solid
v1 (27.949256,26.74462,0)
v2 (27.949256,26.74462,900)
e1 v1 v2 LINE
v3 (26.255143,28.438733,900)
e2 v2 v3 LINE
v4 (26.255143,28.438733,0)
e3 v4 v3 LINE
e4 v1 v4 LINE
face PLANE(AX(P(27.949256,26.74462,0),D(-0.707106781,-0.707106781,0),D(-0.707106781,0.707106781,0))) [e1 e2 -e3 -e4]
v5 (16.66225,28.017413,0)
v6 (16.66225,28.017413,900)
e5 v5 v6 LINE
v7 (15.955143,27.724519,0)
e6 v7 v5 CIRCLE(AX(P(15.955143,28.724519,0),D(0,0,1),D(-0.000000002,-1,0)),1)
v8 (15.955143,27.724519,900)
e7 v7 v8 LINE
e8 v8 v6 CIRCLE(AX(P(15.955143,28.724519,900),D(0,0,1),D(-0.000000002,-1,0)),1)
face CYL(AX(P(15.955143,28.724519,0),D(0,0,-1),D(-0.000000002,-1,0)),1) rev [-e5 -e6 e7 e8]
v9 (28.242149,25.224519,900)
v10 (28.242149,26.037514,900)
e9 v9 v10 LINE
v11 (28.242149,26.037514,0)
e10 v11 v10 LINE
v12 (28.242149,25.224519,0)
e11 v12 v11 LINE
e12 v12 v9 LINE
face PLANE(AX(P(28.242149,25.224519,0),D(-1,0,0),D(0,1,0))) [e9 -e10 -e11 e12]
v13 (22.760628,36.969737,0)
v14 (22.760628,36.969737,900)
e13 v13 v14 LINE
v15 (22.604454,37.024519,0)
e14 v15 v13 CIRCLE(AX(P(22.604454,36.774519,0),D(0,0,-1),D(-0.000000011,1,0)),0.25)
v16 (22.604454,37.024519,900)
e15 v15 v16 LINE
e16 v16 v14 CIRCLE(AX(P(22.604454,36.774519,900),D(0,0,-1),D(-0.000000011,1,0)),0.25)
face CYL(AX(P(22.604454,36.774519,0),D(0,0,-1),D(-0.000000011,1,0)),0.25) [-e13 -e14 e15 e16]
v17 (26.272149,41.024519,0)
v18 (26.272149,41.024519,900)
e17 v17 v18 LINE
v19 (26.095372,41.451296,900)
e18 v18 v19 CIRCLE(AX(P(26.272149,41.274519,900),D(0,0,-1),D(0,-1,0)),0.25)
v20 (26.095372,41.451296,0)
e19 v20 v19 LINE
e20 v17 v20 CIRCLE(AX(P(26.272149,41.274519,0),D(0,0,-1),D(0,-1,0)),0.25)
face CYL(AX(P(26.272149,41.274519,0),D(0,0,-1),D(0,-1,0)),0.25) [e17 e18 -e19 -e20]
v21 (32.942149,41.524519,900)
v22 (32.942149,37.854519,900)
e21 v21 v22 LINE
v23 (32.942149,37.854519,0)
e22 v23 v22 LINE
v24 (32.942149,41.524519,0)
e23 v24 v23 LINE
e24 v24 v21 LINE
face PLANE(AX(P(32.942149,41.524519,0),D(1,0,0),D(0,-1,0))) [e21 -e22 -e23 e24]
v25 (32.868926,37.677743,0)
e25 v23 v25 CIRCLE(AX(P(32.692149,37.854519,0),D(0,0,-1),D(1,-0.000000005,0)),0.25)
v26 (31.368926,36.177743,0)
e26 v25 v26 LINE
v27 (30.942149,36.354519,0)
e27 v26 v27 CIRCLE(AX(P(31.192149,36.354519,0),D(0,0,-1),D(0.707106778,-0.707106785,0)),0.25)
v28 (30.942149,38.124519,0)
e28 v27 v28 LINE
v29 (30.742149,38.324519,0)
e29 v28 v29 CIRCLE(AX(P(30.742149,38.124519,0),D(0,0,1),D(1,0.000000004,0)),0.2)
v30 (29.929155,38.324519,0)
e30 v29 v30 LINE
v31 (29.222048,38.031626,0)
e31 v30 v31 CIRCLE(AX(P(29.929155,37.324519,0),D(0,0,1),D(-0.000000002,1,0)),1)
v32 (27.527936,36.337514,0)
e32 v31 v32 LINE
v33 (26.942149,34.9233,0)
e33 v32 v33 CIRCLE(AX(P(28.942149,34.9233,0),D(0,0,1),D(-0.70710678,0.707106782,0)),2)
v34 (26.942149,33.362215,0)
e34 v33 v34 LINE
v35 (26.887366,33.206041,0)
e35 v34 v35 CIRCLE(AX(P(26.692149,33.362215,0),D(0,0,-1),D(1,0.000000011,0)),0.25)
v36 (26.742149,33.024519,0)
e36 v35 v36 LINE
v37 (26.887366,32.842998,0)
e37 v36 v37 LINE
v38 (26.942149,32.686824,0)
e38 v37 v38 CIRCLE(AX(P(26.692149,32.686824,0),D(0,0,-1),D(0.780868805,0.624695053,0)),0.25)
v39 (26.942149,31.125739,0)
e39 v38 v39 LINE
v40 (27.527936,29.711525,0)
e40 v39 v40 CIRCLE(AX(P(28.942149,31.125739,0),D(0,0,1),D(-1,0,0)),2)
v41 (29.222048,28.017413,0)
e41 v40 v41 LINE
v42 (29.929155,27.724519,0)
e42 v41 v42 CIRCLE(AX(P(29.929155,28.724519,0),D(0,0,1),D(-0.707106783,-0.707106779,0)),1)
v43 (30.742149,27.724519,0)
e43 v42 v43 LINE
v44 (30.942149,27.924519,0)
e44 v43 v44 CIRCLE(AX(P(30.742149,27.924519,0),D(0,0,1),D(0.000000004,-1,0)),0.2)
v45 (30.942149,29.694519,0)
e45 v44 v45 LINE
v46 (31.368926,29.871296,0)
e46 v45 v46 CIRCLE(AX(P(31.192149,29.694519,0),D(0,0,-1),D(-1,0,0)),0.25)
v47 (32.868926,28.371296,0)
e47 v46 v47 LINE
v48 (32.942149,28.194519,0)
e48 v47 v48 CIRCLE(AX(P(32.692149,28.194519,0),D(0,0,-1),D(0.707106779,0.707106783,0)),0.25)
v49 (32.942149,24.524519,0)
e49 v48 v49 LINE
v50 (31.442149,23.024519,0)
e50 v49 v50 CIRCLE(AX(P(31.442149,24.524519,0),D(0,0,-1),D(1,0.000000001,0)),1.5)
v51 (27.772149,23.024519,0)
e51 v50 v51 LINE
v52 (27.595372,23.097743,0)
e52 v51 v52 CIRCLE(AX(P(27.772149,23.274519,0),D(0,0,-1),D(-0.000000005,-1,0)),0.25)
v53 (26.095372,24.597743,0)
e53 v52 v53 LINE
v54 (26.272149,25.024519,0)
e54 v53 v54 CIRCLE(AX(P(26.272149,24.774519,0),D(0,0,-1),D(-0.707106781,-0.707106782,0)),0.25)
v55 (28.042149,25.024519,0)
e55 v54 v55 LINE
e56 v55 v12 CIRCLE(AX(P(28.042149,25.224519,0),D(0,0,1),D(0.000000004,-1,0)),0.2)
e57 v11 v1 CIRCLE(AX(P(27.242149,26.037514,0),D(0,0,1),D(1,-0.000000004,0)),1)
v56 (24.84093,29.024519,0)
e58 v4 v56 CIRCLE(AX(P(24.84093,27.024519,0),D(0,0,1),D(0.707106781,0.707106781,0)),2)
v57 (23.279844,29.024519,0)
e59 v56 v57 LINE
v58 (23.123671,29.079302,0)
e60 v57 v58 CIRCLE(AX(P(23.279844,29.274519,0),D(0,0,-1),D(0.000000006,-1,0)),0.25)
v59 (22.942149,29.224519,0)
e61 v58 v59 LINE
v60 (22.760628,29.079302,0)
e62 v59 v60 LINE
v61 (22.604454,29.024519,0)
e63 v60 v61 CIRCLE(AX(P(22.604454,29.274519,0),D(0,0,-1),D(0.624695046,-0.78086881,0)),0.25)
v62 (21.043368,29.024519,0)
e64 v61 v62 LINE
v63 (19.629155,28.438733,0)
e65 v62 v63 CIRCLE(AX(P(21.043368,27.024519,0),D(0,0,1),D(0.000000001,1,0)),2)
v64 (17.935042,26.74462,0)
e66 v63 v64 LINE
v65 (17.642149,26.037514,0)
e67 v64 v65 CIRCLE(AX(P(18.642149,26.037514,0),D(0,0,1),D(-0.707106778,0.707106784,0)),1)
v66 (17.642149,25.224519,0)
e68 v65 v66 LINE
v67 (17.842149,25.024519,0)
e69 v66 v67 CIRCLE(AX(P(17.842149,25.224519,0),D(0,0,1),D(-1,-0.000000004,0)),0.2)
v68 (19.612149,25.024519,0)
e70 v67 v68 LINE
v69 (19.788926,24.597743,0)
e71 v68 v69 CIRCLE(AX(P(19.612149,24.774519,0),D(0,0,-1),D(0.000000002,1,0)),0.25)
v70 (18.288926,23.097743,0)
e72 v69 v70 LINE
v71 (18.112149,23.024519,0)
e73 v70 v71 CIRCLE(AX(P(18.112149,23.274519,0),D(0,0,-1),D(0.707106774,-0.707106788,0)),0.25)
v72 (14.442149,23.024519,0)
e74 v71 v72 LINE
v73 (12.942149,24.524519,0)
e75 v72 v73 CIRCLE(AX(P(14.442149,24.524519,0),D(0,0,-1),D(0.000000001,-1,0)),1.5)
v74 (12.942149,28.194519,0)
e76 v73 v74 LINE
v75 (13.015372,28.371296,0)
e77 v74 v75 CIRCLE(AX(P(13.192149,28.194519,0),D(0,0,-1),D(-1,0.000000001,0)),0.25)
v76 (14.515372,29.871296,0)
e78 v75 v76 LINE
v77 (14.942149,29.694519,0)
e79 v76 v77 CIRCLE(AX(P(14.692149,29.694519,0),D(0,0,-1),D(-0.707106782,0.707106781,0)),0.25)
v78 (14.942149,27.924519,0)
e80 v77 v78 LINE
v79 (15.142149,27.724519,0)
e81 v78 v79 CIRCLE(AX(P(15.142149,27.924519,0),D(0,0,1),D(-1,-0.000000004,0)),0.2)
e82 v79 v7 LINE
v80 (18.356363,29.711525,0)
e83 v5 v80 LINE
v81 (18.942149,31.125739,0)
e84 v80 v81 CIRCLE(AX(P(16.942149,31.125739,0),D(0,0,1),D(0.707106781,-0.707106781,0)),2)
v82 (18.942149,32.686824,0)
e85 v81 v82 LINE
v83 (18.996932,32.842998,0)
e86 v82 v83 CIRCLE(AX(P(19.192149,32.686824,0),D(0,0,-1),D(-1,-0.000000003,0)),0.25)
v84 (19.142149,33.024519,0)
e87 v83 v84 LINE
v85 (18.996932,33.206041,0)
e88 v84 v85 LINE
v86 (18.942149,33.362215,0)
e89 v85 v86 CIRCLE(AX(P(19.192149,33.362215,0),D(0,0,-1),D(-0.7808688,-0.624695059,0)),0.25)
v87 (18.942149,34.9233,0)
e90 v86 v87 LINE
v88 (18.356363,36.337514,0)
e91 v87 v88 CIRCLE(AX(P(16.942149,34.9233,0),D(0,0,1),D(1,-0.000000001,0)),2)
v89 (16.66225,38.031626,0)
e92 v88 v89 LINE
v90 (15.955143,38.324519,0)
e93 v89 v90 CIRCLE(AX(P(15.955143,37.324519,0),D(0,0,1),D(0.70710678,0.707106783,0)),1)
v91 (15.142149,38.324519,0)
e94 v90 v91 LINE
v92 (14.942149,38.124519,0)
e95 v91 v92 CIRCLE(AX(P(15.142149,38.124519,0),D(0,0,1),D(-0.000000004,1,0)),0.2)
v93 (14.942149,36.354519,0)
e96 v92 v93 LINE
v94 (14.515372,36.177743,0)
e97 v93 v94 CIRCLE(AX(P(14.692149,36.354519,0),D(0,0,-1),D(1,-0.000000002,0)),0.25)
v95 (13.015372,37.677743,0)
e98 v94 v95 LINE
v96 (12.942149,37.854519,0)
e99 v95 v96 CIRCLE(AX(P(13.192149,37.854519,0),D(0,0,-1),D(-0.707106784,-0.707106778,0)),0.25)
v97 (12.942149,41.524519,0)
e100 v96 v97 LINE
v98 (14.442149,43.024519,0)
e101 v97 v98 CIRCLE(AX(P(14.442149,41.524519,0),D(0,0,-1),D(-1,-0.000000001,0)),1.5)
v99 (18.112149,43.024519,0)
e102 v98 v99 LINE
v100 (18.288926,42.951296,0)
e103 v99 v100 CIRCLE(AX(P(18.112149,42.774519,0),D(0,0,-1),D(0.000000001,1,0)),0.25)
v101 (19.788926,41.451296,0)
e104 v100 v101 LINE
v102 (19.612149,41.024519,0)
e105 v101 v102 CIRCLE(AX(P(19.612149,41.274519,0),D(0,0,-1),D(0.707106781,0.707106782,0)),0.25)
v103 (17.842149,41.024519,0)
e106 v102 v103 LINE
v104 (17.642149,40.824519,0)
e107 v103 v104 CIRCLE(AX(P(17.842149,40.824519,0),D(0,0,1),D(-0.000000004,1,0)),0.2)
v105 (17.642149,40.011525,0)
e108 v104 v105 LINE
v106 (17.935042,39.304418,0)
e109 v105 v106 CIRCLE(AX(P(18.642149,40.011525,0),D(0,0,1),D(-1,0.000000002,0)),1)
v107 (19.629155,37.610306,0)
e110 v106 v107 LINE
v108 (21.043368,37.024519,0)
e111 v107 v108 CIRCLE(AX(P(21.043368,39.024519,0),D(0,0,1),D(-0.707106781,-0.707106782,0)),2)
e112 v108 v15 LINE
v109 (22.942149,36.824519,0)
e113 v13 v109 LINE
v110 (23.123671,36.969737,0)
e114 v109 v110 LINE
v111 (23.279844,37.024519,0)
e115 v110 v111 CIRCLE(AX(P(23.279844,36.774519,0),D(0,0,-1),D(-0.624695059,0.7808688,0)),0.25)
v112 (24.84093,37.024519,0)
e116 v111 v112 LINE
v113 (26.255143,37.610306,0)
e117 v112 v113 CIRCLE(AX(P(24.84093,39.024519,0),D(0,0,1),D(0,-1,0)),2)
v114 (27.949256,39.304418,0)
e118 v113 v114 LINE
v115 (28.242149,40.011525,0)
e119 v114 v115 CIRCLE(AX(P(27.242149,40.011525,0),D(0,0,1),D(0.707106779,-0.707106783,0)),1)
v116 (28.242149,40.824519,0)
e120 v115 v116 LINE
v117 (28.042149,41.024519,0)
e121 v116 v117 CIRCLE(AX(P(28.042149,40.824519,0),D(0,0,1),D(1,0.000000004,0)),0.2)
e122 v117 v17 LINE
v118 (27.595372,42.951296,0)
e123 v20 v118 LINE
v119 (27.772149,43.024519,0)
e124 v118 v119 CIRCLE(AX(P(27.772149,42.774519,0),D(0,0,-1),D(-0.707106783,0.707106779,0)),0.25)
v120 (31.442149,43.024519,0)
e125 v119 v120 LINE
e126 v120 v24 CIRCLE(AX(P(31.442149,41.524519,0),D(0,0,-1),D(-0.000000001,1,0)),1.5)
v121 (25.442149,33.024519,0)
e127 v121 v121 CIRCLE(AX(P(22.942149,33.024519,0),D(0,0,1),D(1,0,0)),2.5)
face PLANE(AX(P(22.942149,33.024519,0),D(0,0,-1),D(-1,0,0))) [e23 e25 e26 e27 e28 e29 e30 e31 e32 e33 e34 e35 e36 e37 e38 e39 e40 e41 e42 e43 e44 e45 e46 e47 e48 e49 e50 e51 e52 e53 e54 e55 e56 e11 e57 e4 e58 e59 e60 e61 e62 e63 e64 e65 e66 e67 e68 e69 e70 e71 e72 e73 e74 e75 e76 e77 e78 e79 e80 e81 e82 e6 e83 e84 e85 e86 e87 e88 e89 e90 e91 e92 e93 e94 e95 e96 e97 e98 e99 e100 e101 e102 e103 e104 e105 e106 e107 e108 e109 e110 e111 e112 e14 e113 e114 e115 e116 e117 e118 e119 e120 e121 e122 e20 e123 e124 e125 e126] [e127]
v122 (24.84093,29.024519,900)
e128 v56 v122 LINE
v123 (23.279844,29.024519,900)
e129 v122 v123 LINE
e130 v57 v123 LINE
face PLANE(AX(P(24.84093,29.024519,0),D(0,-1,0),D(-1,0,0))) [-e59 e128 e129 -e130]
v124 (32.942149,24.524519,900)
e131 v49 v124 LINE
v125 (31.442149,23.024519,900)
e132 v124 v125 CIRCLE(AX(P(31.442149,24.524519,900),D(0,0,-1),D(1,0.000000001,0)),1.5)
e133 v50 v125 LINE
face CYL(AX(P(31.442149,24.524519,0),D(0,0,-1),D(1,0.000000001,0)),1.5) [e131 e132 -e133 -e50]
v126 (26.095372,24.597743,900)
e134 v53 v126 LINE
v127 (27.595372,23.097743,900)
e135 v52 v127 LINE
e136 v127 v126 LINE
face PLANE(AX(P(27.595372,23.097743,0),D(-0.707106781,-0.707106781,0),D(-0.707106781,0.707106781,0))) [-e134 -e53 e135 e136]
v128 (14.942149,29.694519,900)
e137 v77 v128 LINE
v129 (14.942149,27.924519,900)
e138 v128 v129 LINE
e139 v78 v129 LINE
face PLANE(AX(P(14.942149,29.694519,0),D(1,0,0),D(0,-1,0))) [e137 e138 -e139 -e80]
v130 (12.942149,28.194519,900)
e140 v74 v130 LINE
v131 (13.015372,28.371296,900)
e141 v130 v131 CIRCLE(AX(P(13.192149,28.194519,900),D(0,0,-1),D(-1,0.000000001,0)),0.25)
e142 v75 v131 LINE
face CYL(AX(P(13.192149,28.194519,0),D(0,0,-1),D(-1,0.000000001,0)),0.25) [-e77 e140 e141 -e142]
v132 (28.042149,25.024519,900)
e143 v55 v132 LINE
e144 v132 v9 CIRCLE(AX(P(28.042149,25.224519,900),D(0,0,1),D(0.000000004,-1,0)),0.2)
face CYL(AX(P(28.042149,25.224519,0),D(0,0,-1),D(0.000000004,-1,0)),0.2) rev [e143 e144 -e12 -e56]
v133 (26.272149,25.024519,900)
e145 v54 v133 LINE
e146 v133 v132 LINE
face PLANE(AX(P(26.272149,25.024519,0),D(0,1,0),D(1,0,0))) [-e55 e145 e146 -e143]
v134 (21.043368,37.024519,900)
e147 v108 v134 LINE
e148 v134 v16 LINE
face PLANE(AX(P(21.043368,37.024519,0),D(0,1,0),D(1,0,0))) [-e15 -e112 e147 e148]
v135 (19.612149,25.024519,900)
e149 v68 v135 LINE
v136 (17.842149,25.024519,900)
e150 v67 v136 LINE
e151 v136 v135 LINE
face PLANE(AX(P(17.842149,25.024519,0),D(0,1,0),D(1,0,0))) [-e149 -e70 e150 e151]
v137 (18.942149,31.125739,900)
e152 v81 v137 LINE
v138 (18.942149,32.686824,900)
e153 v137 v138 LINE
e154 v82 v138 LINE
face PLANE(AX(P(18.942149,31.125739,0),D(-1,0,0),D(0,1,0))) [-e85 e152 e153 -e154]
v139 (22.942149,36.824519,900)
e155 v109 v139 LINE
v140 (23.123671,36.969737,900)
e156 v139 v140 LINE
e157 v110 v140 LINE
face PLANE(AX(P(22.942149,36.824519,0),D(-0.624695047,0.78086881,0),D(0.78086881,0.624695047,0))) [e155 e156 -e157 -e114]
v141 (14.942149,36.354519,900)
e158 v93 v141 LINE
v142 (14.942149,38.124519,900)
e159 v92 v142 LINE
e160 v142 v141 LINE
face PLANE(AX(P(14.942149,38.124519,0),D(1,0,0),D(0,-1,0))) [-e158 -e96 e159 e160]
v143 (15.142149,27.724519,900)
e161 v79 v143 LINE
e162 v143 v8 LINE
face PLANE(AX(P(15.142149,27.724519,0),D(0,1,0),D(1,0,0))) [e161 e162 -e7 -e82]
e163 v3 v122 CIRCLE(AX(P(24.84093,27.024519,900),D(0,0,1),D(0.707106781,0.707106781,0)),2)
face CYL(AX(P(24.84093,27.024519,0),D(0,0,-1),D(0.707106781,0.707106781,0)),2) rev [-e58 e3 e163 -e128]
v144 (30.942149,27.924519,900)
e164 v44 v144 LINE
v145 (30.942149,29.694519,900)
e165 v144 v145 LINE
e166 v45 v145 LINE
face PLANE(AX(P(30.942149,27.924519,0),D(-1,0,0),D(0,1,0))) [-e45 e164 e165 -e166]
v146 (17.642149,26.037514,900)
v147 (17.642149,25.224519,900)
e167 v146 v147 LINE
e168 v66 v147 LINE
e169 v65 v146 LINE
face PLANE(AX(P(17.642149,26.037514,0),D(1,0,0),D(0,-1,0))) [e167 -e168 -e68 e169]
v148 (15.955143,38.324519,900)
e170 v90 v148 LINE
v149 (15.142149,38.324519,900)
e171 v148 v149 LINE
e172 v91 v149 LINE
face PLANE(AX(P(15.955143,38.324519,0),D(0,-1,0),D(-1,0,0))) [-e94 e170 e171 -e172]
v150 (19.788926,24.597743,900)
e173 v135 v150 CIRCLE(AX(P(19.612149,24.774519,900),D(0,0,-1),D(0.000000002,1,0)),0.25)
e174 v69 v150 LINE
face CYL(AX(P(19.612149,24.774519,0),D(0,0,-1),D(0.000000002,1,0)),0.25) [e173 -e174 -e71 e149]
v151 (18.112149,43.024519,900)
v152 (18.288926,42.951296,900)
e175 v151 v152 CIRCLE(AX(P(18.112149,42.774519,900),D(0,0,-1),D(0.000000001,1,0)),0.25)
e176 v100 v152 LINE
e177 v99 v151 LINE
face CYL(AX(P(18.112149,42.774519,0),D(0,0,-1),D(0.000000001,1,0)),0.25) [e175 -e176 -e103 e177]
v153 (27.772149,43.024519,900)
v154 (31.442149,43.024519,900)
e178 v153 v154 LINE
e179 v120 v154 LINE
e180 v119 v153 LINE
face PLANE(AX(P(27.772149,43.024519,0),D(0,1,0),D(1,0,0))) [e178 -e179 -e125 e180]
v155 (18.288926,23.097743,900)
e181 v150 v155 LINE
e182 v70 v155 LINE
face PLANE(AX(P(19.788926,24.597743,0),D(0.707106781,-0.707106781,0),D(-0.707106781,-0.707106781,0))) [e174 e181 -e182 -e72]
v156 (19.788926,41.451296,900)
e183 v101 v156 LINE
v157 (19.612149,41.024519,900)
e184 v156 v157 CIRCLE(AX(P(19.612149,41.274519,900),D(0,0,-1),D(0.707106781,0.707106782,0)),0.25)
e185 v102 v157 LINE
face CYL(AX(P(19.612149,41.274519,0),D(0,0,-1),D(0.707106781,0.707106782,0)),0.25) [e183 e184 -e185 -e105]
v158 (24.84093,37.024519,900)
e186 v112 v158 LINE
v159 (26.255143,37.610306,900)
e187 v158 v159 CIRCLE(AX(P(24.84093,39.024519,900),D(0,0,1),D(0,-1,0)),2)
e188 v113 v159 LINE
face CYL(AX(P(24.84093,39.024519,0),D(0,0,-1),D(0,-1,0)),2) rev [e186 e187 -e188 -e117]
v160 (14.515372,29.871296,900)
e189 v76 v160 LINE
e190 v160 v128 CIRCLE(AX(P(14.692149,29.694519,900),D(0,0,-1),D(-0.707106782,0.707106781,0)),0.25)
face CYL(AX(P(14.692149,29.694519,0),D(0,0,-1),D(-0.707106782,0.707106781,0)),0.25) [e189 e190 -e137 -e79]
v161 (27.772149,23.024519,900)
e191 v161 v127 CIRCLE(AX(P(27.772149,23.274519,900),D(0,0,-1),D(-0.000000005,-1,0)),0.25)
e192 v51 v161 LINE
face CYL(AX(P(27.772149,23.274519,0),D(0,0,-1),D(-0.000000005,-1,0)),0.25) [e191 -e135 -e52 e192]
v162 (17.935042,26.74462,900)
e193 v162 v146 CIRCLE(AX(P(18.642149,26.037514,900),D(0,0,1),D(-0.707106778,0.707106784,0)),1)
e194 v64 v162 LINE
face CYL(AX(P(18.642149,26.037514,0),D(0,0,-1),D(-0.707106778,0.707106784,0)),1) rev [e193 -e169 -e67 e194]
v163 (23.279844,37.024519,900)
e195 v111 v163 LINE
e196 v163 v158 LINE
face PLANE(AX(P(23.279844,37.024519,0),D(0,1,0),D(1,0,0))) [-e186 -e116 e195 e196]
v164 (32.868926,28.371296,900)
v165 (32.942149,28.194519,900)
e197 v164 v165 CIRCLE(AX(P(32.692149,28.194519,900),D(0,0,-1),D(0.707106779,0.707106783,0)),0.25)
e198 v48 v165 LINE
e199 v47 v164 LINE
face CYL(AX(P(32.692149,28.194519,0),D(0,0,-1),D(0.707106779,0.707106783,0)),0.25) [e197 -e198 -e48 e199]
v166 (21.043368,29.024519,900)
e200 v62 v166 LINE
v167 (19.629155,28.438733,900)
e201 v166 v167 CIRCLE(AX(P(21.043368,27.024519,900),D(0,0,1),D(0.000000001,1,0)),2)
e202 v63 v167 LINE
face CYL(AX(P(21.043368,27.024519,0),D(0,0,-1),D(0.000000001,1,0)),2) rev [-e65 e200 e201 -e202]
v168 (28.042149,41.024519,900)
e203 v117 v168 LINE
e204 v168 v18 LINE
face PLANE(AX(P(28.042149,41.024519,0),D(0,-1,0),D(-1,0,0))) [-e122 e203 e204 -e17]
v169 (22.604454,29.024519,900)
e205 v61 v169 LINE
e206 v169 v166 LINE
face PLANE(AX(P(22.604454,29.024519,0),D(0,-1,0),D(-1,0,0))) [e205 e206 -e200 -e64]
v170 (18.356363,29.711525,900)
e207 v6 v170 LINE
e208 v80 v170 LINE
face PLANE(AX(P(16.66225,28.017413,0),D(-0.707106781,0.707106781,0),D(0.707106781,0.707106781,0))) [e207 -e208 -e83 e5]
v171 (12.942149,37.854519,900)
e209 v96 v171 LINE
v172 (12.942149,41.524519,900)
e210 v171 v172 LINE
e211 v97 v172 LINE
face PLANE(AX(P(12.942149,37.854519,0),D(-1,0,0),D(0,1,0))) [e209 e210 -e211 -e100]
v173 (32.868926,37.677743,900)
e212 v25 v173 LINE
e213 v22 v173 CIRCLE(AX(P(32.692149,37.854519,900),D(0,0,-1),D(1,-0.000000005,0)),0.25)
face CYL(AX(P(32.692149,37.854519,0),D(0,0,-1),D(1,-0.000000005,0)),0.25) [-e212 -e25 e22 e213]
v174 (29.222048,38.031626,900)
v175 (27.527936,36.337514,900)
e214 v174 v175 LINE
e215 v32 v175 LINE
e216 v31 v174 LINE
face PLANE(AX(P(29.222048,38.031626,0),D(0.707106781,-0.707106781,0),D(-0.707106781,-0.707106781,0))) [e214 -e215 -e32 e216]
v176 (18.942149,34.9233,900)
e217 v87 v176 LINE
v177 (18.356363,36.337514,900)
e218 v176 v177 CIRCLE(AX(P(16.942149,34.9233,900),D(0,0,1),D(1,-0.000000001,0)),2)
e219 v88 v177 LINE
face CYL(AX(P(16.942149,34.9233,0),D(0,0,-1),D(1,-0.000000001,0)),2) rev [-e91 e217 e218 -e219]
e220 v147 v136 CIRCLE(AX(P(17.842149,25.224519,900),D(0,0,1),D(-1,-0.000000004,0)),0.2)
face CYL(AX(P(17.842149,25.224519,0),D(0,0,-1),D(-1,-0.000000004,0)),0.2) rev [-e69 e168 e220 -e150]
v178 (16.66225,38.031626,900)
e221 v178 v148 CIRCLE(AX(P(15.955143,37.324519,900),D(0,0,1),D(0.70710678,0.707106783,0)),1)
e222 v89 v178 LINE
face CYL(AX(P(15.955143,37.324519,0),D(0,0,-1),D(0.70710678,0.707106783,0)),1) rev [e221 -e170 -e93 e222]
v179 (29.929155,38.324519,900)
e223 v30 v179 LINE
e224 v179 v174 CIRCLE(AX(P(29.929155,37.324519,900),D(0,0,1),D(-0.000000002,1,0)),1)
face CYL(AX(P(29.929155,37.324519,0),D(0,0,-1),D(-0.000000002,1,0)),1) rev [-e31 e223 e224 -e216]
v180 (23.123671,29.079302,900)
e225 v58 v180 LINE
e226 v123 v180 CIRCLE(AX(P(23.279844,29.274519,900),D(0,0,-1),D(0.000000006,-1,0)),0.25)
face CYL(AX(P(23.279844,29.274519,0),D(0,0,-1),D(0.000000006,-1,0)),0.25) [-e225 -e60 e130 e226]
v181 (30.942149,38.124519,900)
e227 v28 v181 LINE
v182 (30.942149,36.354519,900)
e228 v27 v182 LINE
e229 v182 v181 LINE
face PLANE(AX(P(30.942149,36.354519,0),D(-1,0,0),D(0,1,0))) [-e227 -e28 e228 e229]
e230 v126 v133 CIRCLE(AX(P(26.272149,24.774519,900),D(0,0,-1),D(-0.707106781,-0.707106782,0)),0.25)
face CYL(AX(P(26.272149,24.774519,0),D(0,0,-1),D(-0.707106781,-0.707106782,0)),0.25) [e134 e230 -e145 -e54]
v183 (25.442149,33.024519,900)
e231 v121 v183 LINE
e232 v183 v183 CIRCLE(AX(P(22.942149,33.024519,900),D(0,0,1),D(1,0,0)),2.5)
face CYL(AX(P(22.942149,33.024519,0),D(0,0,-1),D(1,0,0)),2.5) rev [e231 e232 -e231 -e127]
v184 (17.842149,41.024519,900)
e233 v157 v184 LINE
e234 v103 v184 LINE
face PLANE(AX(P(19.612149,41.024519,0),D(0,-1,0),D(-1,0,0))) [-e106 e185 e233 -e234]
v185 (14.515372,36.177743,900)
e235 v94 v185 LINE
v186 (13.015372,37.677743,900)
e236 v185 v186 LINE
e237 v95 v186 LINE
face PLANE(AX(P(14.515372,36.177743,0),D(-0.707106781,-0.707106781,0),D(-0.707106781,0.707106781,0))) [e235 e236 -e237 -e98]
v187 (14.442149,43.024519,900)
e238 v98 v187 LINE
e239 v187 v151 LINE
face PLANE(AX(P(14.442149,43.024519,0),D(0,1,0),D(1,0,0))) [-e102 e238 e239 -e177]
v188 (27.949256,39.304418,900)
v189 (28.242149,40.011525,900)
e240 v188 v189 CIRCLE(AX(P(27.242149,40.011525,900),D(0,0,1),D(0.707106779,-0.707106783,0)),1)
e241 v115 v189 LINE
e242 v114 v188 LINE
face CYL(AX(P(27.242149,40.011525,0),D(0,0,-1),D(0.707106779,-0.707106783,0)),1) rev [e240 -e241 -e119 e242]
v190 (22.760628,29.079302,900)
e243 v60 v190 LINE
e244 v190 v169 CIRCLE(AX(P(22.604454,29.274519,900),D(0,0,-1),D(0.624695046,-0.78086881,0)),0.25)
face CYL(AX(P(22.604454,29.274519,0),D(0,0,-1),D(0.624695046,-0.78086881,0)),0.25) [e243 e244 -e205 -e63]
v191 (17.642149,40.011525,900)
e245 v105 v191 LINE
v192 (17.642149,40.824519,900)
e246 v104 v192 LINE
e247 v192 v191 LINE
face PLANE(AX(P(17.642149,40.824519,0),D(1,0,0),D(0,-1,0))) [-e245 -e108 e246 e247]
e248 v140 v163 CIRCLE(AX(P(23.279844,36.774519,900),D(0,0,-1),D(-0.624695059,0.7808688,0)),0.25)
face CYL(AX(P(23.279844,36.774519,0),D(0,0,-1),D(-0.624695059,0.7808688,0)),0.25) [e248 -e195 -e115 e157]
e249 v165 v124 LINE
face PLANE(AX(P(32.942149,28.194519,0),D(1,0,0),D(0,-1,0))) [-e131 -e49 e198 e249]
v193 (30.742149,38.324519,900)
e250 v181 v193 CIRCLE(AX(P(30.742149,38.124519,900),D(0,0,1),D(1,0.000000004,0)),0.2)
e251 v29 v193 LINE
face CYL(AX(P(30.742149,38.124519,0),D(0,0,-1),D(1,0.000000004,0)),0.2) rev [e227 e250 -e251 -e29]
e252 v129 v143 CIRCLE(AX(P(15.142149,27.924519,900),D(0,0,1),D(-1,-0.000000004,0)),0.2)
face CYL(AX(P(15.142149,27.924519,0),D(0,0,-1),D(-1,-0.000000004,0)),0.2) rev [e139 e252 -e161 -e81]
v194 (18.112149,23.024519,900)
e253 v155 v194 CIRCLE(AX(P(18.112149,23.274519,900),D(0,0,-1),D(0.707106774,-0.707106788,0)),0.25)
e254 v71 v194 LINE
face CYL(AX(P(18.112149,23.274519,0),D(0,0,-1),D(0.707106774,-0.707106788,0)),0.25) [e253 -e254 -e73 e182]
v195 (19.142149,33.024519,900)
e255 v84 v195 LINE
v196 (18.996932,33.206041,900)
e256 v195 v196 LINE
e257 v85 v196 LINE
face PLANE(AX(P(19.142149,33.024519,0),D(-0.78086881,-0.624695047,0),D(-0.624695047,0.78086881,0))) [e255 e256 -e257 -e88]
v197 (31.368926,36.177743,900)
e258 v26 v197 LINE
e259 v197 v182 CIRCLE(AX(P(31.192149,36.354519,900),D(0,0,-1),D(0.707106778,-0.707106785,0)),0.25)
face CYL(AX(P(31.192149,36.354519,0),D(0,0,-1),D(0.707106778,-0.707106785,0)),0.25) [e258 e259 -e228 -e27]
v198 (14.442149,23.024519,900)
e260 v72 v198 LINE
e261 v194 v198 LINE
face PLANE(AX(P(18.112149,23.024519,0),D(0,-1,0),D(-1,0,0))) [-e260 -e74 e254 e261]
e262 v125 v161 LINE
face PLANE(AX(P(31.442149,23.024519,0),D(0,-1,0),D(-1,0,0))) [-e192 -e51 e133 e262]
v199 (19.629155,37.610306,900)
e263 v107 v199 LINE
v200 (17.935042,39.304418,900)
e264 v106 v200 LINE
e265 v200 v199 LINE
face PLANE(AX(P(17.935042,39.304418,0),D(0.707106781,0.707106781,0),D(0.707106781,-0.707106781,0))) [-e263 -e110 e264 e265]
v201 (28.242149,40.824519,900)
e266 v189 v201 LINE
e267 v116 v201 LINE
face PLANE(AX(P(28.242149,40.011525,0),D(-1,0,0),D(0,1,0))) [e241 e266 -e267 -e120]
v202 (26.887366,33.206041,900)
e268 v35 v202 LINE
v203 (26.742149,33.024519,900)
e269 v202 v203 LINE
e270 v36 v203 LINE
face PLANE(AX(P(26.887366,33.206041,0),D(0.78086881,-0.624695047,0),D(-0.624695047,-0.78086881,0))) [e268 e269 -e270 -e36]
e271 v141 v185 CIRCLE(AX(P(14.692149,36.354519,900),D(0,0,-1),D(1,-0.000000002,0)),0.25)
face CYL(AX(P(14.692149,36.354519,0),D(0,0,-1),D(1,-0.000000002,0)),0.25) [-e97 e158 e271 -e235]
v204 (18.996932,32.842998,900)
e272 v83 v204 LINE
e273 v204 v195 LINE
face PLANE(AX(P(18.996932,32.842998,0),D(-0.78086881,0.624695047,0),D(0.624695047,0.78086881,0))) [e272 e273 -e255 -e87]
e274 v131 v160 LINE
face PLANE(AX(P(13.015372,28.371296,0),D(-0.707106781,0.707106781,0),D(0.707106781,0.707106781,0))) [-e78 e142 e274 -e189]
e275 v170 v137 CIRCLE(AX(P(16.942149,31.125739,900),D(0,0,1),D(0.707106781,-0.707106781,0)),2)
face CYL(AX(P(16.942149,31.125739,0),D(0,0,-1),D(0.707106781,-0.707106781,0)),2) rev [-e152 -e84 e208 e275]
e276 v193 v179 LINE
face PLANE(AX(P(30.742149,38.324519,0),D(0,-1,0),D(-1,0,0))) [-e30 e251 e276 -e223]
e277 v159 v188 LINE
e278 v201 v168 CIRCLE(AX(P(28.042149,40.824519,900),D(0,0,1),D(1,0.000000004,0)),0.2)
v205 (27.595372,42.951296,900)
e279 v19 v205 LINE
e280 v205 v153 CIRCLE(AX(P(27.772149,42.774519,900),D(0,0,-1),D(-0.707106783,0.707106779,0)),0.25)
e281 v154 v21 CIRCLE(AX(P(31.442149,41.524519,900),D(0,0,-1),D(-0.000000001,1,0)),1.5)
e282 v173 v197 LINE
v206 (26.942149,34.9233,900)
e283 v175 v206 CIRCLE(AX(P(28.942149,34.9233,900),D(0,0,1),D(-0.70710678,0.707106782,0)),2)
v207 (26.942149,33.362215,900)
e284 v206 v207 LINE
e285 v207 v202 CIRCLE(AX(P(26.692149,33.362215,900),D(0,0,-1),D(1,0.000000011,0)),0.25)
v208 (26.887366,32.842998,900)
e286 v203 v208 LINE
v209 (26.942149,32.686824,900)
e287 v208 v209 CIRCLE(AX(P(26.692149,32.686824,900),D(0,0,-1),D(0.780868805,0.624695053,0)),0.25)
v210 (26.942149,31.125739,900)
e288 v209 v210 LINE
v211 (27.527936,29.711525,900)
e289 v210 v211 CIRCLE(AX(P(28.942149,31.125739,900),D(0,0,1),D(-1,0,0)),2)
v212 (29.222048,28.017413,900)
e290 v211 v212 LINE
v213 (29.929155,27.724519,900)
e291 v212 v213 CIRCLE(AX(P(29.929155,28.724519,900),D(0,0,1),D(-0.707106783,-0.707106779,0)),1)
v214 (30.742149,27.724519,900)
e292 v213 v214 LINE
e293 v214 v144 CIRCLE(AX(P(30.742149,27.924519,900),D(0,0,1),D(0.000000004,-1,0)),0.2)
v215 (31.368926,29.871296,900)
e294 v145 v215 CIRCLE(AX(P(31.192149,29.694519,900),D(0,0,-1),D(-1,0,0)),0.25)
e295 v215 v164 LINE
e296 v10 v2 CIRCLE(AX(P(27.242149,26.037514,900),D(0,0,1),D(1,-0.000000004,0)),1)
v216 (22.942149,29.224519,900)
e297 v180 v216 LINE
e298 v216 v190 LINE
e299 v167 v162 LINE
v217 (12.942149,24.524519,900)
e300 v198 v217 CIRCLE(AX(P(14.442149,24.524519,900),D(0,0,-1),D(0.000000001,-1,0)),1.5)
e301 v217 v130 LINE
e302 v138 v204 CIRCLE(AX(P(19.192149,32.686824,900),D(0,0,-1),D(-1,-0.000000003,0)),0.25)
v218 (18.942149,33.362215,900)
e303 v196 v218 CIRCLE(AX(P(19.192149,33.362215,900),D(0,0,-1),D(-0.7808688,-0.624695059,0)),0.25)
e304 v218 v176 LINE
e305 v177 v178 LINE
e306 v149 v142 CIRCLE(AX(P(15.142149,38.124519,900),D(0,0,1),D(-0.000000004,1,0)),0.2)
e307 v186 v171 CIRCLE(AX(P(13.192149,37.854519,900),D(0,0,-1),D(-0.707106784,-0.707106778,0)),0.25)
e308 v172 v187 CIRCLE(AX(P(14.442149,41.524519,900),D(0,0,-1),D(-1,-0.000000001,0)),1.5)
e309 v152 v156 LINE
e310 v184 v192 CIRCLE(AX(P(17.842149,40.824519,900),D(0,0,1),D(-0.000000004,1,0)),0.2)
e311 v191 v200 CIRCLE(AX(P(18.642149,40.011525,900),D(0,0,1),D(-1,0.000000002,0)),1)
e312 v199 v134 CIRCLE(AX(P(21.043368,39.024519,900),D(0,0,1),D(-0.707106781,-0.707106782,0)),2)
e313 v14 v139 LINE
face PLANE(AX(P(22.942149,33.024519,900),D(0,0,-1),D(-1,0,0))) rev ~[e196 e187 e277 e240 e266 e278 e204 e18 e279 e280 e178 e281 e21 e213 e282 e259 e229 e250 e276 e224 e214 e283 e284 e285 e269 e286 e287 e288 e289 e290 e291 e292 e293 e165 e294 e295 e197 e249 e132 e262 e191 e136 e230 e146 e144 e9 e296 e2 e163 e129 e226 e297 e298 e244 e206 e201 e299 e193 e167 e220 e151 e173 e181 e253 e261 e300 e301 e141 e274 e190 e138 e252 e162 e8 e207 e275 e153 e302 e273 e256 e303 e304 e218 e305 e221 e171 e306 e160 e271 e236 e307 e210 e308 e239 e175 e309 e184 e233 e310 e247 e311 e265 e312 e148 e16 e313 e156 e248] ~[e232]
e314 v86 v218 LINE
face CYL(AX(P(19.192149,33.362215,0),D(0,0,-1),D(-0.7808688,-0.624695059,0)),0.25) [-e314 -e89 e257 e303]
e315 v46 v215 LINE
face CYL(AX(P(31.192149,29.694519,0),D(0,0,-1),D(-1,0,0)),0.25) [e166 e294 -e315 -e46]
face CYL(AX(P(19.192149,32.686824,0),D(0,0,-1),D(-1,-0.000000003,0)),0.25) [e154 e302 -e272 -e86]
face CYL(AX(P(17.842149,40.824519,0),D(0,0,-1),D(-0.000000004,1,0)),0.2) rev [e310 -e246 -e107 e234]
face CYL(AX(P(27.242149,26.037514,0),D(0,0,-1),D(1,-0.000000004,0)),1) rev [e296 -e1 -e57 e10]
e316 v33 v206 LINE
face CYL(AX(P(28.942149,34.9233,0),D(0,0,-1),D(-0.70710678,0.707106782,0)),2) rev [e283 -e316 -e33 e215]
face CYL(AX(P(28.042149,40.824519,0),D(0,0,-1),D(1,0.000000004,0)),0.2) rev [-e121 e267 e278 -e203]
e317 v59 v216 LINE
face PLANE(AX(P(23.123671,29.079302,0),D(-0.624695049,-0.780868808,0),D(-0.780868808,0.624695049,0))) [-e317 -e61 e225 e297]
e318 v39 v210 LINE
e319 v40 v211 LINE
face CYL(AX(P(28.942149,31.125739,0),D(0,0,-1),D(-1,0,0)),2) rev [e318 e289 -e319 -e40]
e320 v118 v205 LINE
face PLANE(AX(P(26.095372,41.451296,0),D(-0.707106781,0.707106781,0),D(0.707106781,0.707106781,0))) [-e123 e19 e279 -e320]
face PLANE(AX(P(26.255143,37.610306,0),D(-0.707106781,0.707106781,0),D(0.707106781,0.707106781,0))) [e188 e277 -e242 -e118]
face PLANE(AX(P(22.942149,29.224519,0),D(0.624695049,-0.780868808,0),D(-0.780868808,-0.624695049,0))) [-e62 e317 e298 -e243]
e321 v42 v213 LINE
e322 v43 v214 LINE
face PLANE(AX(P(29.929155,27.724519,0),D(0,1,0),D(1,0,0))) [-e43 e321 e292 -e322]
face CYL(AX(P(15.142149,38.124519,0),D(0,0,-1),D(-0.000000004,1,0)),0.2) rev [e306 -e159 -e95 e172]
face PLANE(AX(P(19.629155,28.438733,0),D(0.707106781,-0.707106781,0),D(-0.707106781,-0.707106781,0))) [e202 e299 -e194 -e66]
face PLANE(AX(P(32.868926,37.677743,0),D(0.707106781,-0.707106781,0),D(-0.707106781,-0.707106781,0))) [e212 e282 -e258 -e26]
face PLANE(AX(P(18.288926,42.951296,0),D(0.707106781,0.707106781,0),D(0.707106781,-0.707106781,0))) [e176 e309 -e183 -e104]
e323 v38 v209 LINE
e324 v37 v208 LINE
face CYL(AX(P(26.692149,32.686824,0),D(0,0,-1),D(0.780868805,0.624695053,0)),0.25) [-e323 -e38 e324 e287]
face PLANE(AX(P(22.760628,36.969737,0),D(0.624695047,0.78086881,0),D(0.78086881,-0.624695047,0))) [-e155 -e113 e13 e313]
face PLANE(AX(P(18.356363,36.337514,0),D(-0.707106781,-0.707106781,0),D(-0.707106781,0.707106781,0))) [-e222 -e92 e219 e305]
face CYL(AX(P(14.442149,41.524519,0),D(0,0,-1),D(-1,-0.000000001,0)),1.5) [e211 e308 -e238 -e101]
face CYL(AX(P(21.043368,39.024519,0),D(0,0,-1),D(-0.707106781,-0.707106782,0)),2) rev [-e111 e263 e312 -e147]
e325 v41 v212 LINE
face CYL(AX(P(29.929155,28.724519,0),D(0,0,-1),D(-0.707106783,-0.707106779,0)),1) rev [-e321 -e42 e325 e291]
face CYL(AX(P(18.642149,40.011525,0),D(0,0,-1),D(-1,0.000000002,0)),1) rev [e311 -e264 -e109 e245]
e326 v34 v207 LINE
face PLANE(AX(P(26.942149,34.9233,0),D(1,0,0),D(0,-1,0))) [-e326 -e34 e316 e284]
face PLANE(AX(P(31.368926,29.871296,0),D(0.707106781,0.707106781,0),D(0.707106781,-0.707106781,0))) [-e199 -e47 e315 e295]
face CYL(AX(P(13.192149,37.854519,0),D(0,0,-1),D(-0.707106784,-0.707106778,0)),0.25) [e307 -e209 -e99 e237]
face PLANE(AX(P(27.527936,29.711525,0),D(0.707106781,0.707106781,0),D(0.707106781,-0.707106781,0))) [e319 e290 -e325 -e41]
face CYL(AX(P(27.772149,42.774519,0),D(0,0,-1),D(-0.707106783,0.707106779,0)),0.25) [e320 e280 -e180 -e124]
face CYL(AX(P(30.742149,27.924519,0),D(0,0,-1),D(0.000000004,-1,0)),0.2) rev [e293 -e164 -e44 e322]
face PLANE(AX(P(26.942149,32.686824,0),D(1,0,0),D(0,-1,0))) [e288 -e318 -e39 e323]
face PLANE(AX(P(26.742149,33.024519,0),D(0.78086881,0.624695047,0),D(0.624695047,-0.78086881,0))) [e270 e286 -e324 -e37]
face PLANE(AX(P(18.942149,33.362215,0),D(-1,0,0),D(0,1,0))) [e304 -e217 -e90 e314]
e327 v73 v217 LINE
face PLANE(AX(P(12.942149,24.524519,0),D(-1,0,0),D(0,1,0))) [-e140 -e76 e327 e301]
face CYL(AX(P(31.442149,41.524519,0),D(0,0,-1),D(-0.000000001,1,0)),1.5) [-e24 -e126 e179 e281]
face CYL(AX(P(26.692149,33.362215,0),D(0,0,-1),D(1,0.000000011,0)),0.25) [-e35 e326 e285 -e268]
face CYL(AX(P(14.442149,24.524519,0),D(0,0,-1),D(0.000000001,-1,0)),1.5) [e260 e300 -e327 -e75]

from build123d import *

# Parameters (mm, degrees)
MODEL_R         = 2.5
EXTRUDE_1_DEPTH = 900


with BuildPart() as part:
    # Model → Бобышка-Вытянуть1 (new body)
    with BuildSketch(Plane.XY):
        with BuildLine():
            Line((18.94214915, 33.362214718), (18.94214915, 34.923300122))
            ThreePointArc((18.94214915, 34.923300122), (18.789908215, 35.688666987), (18.356362712, 36.337513684))
            Line((18.356362712, 36.337513684), (16.662250163, 38.031626234))
            ThreePointArc((16.662250163, 38.031626234), (16.337826814, 38.248398985), (15.955143382, 38.324519453))
            Line((15.955143382, 38.324519453), (15.14214915, 38.324519453))
            ThreePointArc((15.14214915, 38.324519453), (15.000727794, 38.265940809), (14.94214915, 38.124519453))
            Line((14.94214915, 38.124519453), (14.94214915, 36.354519453))
            ThreePointArc((14.94214915, 36.354519453), (14.787820008, 36.12354957), (14.515372455, 36.177742757))
            Line((14.515372455, 36.177742757), (13.015372455, 37.677742757))
            ThreePointArc((13.015372455, 37.677742757), (12.961179267, 37.758848595), (12.94214915, 37.854519453))
            Line((12.94214915, 37.854519453), (12.94214915, 41.524519453))
            ThreePointArc((12.94214915, 41.524519453), (13.381488978, 42.585179625), (14.44214915, 43.024519453))
            Line((14.44214915, 43.024519453), (18.11214915, 43.024519453))
            ThreePointArc((18.11214915, 43.024519453), (18.207820008, 43.005489336), (18.288925845, 42.951296148))
            Line((18.288925845, 42.951296148), (19.788925845, 41.451296148))
            ThreePointArc((19.788925845, 41.451296148), (19.843119033, 41.178848595), (19.61214915, 41.024519453))
            Line((19.61214915, 41.024519453), (17.84214915, 41.024519453))
            ThreePointArc((17.84214915, 41.024519453), (17.700727794, 40.965940809), (17.64214915, 40.824519453))
            Line((17.64214915, 40.824519453), (17.64214915, 40.011525221))
            ThreePointArc((17.64214915, 40.011525221), (17.718269617, 39.628841789), (17.935042369, 39.30441844))
            Line((17.935042369, 39.30441844), (19.629154919, 37.61030589))
            ThreePointArc((19.629154919, 37.61030589), (20.278001616, 37.176760388), (21.043368481, 37.024519453))
            Line((21.043368481, 37.024519453), (22.604453885, 37.024519453))
            ThreePointArc((22.604453885, 37.024519453), (22.687205621, 37.010426533), (22.760627647, 36.969736655))
            Line((22.760627647, 36.969736655), (22.94214915, 36.824519453))
            Line((22.94214915, 36.824519453), (23.123670653, 36.969736655))
            ThreePointArc((23.123670653, 36.969736655), (23.197092679, 37.010426533), (23.279844415, 37.024519453))
            Line((23.279844415, 37.024519453), (24.840929819, 37.024519453))
            ThreePointArc((24.840929819, 37.024519453), (25.606296684, 37.176760388), (26.255143382, 37.61030589))
            Line((26.255143382, 37.61030589), (27.949255931, 39.30441844))
            ThreePointArc((27.949255931, 39.30441844), (28.166028683, 39.628841789), (28.24214915, 40.011525221))
            Line((28.24214915, 40.011525221), (28.24214915, 40.824519453))
            ThreePointArc((28.24214915, 40.824519453), (28.183570506, 40.965940809), (28.04214915, 41.024519453))
            Line((28.04214915, 41.024519453), (26.27214915, 41.024519453))
            ThreePointArc((26.27214915, 41.024519453), (26.041179267, 41.178848595), (26.095372455, 41.451296148))
            Line((26.095372455, 41.451296148), (27.595372455, 42.951296148))
            ThreePointArc((27.595372455, 42.951296148), (27.676478292, 43.005489336), (27.77214915, 43.024519453))
            Line((27.77214915, 43.024519453), (31.44214915, 43.024519453))
            ThreePointArc((31.44214915, 43.024519453), (32.502809322, 42.585179625), (32.94214915, 41.524519453))
            Line((32.94214915, 41.524519453), (32.94214915, 37.854519453))
            ThreePointArc((32.94214915, 37.854519453), (32.923119033, 37.758848595), (32.868925845, 37.677742757))
            Line((32.868925845, 37.677742757), (31.368925845, 36.177742757))
            ThreePointArc((31.368925845, 36.177742757), (31.096478292, 36.12354957), (30.94214915, 36.354519453))
            Line((30.94214915, 36.354519453), (30.94214915, 38.124519453))
            ThreePointArc((30.94214915, 38.124519453), (30.883570506, 38.265940809), (30.74214915, 38.324519453))
            Line((30.74214915, 38.324519453), (29.929154919, 38.324519453))
            ThreePointArc((29.929154919, 38.324519453), (29.546471486, 38.248398985), (29.222048137, 38.031626234))
            Line((29.222048137, 38.031626234), (27.527935588, 36.337513684))
            ThreePointArc((27.527935588, 36.337513684), (27.094390085, 35.688666987), (26.94214915, 34.923300122))
            Line((26.94214915, 34.923300122), (26.94214915, 33.362214718))
            ThreePointArc((26.94214915, 33.362214718), (26.92805623, 33.279462982), (26.887366352, 33.206040956))
            Line((26.887366352, 33.206040956), (26.74214915, 33.024519453))
            Line((26.74214915, 33.024519453), (26.887366352, 32.84299795))
            ThreePointArc((26.887366352, 32.84299795), (26.92805623, 32.769575923), (26.94214915, 32.686824188))
            Line((26.94214915, 32.686824188), (26.94214915, 31.125738784))
            ThreePointArc((26.94214915, 31.125738784), (27.094390085, 30.360371919), (27.527935588, 29.711525221))
            Line((27.527935588, 29.711525221), (29.222048137, 28.017412672))
            ThreePointArc((29.222048137, 28.017412672), (29.546471486, 27.80063992), (29.929154919, 27.724519453))
            Line((29.929154919, 27.724519453), (30.74214915, 27.724519453))
            ThreePointArc((30.74214915, 27.724519453), (30.883570506, 27.783098097), (30.94214915, 27.924519453))
            Line((30.94214915, 27.924519453), (30.94214915, 29.694519453))
            ThreePointArc((30.94214915, 29.694519453), (31.096478292, 29.925489336), (31.368925845, 29.871296148))
            Line((31.368925845, 29.871296148), (32.868925845, 28.371296148))
            ThreePointArc((32.868925845, 28.371296148), (32.923119033, 28.290190311), (32.94214915, 28.194519453))
            Line((32.94214915, 28.194519453), (32.94214915, 24.524519453))
            ThreePointArc((32.94214915, 24.524519453), (32.502809322, 23.463859281), (31.44214915, 23.024519453))
            Line((31.44214915, 23.024519453), (27.77214915, 23.024519453))
            ThreePointArc((27.77214915, 23.024519453), (27.676478292, 23.04354957), (27.595372455, 23.097742757))
            Line((27.595372455, 23.097742757), (26.095372455, 24.597742757))
            ThreePointArc((26.095372455, 24.597742757), (26.041179267, 24.870190311), (26.27214915, 25.024519453))
            Line((26.27214915, 25.024519453), (28.04214915, 25.024519453))
            ThreePointArc((28.04214915, 25.024519453), (28.183570506, 25.083098097), (28.24214915, 25.224519453))
            Line((28.24214915, 25.224519453), (28.24214915, 26.037513684))
            ThreePointArc((28.24214915, 26.037513684), (28.166028683, 26.420197117), (27.949255931, 26.744620465))
            Line((27.949255931, 26.744620465), (26.255143382, 28.438733015))
            ThreePointArc((26.255143382, 28.438733015), (25.606296684, 28.872278518), (24.840929819, 29.024519453))
            Line((24.840929819, 29.024519453), (23.279844415, 29.024519453))
            ThreePointArc((23.279844415, 29.024519453), (23.197092679, 29.038612373), (23.123670653, 29.07930225))
            Line((23.123670653, 29.07930225), (22.94214915, 29.224519453))
            Line((22.94214915, 29.224519453), (22.760627647, 29.07930225))
            ThreePointArc((22.760627647, 29.07930225), (22.687205621, 29.038612373), (22.604453885, 29.024519453))
            Line((22.604453885, 29.024519453), (21.043368481, 29.024519453))
            ThreePointArc((21.043368481, 29.024519453), (20.278001616, 28.872278518), (19.629154919, 28.438733015))
            Line((19.629154919, 28.438733015), (17.935042369, 26.744620465))
            ThreePointArc((17.935042369, 26.744620465), (17.718269617, 26.420197117), (17.64214915, 26.037513684))
            Line((17.64214915, 26.037513684), (17.64214915, 25.224519453))
            ThreePointArc((17.64214915, 25.224519453), (17.700727794, 25.083098097), (17.84214915, 25.024519453))
            Line((17.84214915, 25.024519453), (19.61214915, 25.024519453))
            ThreePointArc((19.61214915, 25.024519453), (19.843119033, 24.870190311), (19.788925845, 24.597742757))
            Line((19.788925845, 24.597742757), (18.288925845, 23.097742757))
            ThreePointArc((18.288925845, 23.097742757), (18.207820008, 23.04354957), (18.11214915, 23.024519453))
            Line((18.11214915, 23.024519453), (14.44214915, 23.024519453))
            ThreePointArc((14.44214915, 23.024519453), (13.381488978, 23.463859281), (12.94214915, 24.524519453))
            Line((12.94214915, 24.524519453), (12.94214915, 28.194519453))
            ThreePointArc((12.94214915, 28.194519453), (12.961179267, 28.290190311), (13.015372455, 28.371296148))
            Line((13.015372455, 28.371296148), (14.515372455, 29.871296148))
            ThreePointArc((14.515372455, 29.871296148), (14.787820008, 29.925489336), (14.94214915, 29.694519453))
            Line((14.94214915, 29.694519453), (14.94214915, 27.924519453))
            ThreePointArc((14.94214915, 27.924519453), (15.000727794, 27.783098097), (15.14214915, 27.724519453))
            Line((15.14214915, 27.724519453), (15.955143382, 27.724519453))
            ThreePointArc((15.955143382, 27.724519453), (16.337826814, 27.80063992), (16.662250163, 28.017412672))
            Line((16.662250163, 28.017412672), (18.356362712, 29.711525221))
            ThreePointArc((18.356362712, 29.711525221), (18.789908215, 30.360371919), (18.94214915, 31.125738784))
            Line((18.94214915, 31.125738784), (18.94214915, 32.686824188))
            ThreePointArc((18.94214915, 32.686824188), (18.95624207, 32.769575923), (18.996931948, 32.84299795))
            Line((18.996931948, 32.84299795), (19.14214915, 33.024519453))
            Line((19.14214915, 33.024519453), (18.996931948, 33.206040956))
            ThreePointArc((18.996931948, 33.206040956), (18.95624207, 33.279462982), (18.94214915, 33.362214718))
        make_face()
        with Locations((22.94214915, 33.024519453)):
            Circle(MODEL_R, mode=Mode.SUBTRACT)
    extrude(amount=EXTRUDE_1_DEPTH)


solid = part.part
